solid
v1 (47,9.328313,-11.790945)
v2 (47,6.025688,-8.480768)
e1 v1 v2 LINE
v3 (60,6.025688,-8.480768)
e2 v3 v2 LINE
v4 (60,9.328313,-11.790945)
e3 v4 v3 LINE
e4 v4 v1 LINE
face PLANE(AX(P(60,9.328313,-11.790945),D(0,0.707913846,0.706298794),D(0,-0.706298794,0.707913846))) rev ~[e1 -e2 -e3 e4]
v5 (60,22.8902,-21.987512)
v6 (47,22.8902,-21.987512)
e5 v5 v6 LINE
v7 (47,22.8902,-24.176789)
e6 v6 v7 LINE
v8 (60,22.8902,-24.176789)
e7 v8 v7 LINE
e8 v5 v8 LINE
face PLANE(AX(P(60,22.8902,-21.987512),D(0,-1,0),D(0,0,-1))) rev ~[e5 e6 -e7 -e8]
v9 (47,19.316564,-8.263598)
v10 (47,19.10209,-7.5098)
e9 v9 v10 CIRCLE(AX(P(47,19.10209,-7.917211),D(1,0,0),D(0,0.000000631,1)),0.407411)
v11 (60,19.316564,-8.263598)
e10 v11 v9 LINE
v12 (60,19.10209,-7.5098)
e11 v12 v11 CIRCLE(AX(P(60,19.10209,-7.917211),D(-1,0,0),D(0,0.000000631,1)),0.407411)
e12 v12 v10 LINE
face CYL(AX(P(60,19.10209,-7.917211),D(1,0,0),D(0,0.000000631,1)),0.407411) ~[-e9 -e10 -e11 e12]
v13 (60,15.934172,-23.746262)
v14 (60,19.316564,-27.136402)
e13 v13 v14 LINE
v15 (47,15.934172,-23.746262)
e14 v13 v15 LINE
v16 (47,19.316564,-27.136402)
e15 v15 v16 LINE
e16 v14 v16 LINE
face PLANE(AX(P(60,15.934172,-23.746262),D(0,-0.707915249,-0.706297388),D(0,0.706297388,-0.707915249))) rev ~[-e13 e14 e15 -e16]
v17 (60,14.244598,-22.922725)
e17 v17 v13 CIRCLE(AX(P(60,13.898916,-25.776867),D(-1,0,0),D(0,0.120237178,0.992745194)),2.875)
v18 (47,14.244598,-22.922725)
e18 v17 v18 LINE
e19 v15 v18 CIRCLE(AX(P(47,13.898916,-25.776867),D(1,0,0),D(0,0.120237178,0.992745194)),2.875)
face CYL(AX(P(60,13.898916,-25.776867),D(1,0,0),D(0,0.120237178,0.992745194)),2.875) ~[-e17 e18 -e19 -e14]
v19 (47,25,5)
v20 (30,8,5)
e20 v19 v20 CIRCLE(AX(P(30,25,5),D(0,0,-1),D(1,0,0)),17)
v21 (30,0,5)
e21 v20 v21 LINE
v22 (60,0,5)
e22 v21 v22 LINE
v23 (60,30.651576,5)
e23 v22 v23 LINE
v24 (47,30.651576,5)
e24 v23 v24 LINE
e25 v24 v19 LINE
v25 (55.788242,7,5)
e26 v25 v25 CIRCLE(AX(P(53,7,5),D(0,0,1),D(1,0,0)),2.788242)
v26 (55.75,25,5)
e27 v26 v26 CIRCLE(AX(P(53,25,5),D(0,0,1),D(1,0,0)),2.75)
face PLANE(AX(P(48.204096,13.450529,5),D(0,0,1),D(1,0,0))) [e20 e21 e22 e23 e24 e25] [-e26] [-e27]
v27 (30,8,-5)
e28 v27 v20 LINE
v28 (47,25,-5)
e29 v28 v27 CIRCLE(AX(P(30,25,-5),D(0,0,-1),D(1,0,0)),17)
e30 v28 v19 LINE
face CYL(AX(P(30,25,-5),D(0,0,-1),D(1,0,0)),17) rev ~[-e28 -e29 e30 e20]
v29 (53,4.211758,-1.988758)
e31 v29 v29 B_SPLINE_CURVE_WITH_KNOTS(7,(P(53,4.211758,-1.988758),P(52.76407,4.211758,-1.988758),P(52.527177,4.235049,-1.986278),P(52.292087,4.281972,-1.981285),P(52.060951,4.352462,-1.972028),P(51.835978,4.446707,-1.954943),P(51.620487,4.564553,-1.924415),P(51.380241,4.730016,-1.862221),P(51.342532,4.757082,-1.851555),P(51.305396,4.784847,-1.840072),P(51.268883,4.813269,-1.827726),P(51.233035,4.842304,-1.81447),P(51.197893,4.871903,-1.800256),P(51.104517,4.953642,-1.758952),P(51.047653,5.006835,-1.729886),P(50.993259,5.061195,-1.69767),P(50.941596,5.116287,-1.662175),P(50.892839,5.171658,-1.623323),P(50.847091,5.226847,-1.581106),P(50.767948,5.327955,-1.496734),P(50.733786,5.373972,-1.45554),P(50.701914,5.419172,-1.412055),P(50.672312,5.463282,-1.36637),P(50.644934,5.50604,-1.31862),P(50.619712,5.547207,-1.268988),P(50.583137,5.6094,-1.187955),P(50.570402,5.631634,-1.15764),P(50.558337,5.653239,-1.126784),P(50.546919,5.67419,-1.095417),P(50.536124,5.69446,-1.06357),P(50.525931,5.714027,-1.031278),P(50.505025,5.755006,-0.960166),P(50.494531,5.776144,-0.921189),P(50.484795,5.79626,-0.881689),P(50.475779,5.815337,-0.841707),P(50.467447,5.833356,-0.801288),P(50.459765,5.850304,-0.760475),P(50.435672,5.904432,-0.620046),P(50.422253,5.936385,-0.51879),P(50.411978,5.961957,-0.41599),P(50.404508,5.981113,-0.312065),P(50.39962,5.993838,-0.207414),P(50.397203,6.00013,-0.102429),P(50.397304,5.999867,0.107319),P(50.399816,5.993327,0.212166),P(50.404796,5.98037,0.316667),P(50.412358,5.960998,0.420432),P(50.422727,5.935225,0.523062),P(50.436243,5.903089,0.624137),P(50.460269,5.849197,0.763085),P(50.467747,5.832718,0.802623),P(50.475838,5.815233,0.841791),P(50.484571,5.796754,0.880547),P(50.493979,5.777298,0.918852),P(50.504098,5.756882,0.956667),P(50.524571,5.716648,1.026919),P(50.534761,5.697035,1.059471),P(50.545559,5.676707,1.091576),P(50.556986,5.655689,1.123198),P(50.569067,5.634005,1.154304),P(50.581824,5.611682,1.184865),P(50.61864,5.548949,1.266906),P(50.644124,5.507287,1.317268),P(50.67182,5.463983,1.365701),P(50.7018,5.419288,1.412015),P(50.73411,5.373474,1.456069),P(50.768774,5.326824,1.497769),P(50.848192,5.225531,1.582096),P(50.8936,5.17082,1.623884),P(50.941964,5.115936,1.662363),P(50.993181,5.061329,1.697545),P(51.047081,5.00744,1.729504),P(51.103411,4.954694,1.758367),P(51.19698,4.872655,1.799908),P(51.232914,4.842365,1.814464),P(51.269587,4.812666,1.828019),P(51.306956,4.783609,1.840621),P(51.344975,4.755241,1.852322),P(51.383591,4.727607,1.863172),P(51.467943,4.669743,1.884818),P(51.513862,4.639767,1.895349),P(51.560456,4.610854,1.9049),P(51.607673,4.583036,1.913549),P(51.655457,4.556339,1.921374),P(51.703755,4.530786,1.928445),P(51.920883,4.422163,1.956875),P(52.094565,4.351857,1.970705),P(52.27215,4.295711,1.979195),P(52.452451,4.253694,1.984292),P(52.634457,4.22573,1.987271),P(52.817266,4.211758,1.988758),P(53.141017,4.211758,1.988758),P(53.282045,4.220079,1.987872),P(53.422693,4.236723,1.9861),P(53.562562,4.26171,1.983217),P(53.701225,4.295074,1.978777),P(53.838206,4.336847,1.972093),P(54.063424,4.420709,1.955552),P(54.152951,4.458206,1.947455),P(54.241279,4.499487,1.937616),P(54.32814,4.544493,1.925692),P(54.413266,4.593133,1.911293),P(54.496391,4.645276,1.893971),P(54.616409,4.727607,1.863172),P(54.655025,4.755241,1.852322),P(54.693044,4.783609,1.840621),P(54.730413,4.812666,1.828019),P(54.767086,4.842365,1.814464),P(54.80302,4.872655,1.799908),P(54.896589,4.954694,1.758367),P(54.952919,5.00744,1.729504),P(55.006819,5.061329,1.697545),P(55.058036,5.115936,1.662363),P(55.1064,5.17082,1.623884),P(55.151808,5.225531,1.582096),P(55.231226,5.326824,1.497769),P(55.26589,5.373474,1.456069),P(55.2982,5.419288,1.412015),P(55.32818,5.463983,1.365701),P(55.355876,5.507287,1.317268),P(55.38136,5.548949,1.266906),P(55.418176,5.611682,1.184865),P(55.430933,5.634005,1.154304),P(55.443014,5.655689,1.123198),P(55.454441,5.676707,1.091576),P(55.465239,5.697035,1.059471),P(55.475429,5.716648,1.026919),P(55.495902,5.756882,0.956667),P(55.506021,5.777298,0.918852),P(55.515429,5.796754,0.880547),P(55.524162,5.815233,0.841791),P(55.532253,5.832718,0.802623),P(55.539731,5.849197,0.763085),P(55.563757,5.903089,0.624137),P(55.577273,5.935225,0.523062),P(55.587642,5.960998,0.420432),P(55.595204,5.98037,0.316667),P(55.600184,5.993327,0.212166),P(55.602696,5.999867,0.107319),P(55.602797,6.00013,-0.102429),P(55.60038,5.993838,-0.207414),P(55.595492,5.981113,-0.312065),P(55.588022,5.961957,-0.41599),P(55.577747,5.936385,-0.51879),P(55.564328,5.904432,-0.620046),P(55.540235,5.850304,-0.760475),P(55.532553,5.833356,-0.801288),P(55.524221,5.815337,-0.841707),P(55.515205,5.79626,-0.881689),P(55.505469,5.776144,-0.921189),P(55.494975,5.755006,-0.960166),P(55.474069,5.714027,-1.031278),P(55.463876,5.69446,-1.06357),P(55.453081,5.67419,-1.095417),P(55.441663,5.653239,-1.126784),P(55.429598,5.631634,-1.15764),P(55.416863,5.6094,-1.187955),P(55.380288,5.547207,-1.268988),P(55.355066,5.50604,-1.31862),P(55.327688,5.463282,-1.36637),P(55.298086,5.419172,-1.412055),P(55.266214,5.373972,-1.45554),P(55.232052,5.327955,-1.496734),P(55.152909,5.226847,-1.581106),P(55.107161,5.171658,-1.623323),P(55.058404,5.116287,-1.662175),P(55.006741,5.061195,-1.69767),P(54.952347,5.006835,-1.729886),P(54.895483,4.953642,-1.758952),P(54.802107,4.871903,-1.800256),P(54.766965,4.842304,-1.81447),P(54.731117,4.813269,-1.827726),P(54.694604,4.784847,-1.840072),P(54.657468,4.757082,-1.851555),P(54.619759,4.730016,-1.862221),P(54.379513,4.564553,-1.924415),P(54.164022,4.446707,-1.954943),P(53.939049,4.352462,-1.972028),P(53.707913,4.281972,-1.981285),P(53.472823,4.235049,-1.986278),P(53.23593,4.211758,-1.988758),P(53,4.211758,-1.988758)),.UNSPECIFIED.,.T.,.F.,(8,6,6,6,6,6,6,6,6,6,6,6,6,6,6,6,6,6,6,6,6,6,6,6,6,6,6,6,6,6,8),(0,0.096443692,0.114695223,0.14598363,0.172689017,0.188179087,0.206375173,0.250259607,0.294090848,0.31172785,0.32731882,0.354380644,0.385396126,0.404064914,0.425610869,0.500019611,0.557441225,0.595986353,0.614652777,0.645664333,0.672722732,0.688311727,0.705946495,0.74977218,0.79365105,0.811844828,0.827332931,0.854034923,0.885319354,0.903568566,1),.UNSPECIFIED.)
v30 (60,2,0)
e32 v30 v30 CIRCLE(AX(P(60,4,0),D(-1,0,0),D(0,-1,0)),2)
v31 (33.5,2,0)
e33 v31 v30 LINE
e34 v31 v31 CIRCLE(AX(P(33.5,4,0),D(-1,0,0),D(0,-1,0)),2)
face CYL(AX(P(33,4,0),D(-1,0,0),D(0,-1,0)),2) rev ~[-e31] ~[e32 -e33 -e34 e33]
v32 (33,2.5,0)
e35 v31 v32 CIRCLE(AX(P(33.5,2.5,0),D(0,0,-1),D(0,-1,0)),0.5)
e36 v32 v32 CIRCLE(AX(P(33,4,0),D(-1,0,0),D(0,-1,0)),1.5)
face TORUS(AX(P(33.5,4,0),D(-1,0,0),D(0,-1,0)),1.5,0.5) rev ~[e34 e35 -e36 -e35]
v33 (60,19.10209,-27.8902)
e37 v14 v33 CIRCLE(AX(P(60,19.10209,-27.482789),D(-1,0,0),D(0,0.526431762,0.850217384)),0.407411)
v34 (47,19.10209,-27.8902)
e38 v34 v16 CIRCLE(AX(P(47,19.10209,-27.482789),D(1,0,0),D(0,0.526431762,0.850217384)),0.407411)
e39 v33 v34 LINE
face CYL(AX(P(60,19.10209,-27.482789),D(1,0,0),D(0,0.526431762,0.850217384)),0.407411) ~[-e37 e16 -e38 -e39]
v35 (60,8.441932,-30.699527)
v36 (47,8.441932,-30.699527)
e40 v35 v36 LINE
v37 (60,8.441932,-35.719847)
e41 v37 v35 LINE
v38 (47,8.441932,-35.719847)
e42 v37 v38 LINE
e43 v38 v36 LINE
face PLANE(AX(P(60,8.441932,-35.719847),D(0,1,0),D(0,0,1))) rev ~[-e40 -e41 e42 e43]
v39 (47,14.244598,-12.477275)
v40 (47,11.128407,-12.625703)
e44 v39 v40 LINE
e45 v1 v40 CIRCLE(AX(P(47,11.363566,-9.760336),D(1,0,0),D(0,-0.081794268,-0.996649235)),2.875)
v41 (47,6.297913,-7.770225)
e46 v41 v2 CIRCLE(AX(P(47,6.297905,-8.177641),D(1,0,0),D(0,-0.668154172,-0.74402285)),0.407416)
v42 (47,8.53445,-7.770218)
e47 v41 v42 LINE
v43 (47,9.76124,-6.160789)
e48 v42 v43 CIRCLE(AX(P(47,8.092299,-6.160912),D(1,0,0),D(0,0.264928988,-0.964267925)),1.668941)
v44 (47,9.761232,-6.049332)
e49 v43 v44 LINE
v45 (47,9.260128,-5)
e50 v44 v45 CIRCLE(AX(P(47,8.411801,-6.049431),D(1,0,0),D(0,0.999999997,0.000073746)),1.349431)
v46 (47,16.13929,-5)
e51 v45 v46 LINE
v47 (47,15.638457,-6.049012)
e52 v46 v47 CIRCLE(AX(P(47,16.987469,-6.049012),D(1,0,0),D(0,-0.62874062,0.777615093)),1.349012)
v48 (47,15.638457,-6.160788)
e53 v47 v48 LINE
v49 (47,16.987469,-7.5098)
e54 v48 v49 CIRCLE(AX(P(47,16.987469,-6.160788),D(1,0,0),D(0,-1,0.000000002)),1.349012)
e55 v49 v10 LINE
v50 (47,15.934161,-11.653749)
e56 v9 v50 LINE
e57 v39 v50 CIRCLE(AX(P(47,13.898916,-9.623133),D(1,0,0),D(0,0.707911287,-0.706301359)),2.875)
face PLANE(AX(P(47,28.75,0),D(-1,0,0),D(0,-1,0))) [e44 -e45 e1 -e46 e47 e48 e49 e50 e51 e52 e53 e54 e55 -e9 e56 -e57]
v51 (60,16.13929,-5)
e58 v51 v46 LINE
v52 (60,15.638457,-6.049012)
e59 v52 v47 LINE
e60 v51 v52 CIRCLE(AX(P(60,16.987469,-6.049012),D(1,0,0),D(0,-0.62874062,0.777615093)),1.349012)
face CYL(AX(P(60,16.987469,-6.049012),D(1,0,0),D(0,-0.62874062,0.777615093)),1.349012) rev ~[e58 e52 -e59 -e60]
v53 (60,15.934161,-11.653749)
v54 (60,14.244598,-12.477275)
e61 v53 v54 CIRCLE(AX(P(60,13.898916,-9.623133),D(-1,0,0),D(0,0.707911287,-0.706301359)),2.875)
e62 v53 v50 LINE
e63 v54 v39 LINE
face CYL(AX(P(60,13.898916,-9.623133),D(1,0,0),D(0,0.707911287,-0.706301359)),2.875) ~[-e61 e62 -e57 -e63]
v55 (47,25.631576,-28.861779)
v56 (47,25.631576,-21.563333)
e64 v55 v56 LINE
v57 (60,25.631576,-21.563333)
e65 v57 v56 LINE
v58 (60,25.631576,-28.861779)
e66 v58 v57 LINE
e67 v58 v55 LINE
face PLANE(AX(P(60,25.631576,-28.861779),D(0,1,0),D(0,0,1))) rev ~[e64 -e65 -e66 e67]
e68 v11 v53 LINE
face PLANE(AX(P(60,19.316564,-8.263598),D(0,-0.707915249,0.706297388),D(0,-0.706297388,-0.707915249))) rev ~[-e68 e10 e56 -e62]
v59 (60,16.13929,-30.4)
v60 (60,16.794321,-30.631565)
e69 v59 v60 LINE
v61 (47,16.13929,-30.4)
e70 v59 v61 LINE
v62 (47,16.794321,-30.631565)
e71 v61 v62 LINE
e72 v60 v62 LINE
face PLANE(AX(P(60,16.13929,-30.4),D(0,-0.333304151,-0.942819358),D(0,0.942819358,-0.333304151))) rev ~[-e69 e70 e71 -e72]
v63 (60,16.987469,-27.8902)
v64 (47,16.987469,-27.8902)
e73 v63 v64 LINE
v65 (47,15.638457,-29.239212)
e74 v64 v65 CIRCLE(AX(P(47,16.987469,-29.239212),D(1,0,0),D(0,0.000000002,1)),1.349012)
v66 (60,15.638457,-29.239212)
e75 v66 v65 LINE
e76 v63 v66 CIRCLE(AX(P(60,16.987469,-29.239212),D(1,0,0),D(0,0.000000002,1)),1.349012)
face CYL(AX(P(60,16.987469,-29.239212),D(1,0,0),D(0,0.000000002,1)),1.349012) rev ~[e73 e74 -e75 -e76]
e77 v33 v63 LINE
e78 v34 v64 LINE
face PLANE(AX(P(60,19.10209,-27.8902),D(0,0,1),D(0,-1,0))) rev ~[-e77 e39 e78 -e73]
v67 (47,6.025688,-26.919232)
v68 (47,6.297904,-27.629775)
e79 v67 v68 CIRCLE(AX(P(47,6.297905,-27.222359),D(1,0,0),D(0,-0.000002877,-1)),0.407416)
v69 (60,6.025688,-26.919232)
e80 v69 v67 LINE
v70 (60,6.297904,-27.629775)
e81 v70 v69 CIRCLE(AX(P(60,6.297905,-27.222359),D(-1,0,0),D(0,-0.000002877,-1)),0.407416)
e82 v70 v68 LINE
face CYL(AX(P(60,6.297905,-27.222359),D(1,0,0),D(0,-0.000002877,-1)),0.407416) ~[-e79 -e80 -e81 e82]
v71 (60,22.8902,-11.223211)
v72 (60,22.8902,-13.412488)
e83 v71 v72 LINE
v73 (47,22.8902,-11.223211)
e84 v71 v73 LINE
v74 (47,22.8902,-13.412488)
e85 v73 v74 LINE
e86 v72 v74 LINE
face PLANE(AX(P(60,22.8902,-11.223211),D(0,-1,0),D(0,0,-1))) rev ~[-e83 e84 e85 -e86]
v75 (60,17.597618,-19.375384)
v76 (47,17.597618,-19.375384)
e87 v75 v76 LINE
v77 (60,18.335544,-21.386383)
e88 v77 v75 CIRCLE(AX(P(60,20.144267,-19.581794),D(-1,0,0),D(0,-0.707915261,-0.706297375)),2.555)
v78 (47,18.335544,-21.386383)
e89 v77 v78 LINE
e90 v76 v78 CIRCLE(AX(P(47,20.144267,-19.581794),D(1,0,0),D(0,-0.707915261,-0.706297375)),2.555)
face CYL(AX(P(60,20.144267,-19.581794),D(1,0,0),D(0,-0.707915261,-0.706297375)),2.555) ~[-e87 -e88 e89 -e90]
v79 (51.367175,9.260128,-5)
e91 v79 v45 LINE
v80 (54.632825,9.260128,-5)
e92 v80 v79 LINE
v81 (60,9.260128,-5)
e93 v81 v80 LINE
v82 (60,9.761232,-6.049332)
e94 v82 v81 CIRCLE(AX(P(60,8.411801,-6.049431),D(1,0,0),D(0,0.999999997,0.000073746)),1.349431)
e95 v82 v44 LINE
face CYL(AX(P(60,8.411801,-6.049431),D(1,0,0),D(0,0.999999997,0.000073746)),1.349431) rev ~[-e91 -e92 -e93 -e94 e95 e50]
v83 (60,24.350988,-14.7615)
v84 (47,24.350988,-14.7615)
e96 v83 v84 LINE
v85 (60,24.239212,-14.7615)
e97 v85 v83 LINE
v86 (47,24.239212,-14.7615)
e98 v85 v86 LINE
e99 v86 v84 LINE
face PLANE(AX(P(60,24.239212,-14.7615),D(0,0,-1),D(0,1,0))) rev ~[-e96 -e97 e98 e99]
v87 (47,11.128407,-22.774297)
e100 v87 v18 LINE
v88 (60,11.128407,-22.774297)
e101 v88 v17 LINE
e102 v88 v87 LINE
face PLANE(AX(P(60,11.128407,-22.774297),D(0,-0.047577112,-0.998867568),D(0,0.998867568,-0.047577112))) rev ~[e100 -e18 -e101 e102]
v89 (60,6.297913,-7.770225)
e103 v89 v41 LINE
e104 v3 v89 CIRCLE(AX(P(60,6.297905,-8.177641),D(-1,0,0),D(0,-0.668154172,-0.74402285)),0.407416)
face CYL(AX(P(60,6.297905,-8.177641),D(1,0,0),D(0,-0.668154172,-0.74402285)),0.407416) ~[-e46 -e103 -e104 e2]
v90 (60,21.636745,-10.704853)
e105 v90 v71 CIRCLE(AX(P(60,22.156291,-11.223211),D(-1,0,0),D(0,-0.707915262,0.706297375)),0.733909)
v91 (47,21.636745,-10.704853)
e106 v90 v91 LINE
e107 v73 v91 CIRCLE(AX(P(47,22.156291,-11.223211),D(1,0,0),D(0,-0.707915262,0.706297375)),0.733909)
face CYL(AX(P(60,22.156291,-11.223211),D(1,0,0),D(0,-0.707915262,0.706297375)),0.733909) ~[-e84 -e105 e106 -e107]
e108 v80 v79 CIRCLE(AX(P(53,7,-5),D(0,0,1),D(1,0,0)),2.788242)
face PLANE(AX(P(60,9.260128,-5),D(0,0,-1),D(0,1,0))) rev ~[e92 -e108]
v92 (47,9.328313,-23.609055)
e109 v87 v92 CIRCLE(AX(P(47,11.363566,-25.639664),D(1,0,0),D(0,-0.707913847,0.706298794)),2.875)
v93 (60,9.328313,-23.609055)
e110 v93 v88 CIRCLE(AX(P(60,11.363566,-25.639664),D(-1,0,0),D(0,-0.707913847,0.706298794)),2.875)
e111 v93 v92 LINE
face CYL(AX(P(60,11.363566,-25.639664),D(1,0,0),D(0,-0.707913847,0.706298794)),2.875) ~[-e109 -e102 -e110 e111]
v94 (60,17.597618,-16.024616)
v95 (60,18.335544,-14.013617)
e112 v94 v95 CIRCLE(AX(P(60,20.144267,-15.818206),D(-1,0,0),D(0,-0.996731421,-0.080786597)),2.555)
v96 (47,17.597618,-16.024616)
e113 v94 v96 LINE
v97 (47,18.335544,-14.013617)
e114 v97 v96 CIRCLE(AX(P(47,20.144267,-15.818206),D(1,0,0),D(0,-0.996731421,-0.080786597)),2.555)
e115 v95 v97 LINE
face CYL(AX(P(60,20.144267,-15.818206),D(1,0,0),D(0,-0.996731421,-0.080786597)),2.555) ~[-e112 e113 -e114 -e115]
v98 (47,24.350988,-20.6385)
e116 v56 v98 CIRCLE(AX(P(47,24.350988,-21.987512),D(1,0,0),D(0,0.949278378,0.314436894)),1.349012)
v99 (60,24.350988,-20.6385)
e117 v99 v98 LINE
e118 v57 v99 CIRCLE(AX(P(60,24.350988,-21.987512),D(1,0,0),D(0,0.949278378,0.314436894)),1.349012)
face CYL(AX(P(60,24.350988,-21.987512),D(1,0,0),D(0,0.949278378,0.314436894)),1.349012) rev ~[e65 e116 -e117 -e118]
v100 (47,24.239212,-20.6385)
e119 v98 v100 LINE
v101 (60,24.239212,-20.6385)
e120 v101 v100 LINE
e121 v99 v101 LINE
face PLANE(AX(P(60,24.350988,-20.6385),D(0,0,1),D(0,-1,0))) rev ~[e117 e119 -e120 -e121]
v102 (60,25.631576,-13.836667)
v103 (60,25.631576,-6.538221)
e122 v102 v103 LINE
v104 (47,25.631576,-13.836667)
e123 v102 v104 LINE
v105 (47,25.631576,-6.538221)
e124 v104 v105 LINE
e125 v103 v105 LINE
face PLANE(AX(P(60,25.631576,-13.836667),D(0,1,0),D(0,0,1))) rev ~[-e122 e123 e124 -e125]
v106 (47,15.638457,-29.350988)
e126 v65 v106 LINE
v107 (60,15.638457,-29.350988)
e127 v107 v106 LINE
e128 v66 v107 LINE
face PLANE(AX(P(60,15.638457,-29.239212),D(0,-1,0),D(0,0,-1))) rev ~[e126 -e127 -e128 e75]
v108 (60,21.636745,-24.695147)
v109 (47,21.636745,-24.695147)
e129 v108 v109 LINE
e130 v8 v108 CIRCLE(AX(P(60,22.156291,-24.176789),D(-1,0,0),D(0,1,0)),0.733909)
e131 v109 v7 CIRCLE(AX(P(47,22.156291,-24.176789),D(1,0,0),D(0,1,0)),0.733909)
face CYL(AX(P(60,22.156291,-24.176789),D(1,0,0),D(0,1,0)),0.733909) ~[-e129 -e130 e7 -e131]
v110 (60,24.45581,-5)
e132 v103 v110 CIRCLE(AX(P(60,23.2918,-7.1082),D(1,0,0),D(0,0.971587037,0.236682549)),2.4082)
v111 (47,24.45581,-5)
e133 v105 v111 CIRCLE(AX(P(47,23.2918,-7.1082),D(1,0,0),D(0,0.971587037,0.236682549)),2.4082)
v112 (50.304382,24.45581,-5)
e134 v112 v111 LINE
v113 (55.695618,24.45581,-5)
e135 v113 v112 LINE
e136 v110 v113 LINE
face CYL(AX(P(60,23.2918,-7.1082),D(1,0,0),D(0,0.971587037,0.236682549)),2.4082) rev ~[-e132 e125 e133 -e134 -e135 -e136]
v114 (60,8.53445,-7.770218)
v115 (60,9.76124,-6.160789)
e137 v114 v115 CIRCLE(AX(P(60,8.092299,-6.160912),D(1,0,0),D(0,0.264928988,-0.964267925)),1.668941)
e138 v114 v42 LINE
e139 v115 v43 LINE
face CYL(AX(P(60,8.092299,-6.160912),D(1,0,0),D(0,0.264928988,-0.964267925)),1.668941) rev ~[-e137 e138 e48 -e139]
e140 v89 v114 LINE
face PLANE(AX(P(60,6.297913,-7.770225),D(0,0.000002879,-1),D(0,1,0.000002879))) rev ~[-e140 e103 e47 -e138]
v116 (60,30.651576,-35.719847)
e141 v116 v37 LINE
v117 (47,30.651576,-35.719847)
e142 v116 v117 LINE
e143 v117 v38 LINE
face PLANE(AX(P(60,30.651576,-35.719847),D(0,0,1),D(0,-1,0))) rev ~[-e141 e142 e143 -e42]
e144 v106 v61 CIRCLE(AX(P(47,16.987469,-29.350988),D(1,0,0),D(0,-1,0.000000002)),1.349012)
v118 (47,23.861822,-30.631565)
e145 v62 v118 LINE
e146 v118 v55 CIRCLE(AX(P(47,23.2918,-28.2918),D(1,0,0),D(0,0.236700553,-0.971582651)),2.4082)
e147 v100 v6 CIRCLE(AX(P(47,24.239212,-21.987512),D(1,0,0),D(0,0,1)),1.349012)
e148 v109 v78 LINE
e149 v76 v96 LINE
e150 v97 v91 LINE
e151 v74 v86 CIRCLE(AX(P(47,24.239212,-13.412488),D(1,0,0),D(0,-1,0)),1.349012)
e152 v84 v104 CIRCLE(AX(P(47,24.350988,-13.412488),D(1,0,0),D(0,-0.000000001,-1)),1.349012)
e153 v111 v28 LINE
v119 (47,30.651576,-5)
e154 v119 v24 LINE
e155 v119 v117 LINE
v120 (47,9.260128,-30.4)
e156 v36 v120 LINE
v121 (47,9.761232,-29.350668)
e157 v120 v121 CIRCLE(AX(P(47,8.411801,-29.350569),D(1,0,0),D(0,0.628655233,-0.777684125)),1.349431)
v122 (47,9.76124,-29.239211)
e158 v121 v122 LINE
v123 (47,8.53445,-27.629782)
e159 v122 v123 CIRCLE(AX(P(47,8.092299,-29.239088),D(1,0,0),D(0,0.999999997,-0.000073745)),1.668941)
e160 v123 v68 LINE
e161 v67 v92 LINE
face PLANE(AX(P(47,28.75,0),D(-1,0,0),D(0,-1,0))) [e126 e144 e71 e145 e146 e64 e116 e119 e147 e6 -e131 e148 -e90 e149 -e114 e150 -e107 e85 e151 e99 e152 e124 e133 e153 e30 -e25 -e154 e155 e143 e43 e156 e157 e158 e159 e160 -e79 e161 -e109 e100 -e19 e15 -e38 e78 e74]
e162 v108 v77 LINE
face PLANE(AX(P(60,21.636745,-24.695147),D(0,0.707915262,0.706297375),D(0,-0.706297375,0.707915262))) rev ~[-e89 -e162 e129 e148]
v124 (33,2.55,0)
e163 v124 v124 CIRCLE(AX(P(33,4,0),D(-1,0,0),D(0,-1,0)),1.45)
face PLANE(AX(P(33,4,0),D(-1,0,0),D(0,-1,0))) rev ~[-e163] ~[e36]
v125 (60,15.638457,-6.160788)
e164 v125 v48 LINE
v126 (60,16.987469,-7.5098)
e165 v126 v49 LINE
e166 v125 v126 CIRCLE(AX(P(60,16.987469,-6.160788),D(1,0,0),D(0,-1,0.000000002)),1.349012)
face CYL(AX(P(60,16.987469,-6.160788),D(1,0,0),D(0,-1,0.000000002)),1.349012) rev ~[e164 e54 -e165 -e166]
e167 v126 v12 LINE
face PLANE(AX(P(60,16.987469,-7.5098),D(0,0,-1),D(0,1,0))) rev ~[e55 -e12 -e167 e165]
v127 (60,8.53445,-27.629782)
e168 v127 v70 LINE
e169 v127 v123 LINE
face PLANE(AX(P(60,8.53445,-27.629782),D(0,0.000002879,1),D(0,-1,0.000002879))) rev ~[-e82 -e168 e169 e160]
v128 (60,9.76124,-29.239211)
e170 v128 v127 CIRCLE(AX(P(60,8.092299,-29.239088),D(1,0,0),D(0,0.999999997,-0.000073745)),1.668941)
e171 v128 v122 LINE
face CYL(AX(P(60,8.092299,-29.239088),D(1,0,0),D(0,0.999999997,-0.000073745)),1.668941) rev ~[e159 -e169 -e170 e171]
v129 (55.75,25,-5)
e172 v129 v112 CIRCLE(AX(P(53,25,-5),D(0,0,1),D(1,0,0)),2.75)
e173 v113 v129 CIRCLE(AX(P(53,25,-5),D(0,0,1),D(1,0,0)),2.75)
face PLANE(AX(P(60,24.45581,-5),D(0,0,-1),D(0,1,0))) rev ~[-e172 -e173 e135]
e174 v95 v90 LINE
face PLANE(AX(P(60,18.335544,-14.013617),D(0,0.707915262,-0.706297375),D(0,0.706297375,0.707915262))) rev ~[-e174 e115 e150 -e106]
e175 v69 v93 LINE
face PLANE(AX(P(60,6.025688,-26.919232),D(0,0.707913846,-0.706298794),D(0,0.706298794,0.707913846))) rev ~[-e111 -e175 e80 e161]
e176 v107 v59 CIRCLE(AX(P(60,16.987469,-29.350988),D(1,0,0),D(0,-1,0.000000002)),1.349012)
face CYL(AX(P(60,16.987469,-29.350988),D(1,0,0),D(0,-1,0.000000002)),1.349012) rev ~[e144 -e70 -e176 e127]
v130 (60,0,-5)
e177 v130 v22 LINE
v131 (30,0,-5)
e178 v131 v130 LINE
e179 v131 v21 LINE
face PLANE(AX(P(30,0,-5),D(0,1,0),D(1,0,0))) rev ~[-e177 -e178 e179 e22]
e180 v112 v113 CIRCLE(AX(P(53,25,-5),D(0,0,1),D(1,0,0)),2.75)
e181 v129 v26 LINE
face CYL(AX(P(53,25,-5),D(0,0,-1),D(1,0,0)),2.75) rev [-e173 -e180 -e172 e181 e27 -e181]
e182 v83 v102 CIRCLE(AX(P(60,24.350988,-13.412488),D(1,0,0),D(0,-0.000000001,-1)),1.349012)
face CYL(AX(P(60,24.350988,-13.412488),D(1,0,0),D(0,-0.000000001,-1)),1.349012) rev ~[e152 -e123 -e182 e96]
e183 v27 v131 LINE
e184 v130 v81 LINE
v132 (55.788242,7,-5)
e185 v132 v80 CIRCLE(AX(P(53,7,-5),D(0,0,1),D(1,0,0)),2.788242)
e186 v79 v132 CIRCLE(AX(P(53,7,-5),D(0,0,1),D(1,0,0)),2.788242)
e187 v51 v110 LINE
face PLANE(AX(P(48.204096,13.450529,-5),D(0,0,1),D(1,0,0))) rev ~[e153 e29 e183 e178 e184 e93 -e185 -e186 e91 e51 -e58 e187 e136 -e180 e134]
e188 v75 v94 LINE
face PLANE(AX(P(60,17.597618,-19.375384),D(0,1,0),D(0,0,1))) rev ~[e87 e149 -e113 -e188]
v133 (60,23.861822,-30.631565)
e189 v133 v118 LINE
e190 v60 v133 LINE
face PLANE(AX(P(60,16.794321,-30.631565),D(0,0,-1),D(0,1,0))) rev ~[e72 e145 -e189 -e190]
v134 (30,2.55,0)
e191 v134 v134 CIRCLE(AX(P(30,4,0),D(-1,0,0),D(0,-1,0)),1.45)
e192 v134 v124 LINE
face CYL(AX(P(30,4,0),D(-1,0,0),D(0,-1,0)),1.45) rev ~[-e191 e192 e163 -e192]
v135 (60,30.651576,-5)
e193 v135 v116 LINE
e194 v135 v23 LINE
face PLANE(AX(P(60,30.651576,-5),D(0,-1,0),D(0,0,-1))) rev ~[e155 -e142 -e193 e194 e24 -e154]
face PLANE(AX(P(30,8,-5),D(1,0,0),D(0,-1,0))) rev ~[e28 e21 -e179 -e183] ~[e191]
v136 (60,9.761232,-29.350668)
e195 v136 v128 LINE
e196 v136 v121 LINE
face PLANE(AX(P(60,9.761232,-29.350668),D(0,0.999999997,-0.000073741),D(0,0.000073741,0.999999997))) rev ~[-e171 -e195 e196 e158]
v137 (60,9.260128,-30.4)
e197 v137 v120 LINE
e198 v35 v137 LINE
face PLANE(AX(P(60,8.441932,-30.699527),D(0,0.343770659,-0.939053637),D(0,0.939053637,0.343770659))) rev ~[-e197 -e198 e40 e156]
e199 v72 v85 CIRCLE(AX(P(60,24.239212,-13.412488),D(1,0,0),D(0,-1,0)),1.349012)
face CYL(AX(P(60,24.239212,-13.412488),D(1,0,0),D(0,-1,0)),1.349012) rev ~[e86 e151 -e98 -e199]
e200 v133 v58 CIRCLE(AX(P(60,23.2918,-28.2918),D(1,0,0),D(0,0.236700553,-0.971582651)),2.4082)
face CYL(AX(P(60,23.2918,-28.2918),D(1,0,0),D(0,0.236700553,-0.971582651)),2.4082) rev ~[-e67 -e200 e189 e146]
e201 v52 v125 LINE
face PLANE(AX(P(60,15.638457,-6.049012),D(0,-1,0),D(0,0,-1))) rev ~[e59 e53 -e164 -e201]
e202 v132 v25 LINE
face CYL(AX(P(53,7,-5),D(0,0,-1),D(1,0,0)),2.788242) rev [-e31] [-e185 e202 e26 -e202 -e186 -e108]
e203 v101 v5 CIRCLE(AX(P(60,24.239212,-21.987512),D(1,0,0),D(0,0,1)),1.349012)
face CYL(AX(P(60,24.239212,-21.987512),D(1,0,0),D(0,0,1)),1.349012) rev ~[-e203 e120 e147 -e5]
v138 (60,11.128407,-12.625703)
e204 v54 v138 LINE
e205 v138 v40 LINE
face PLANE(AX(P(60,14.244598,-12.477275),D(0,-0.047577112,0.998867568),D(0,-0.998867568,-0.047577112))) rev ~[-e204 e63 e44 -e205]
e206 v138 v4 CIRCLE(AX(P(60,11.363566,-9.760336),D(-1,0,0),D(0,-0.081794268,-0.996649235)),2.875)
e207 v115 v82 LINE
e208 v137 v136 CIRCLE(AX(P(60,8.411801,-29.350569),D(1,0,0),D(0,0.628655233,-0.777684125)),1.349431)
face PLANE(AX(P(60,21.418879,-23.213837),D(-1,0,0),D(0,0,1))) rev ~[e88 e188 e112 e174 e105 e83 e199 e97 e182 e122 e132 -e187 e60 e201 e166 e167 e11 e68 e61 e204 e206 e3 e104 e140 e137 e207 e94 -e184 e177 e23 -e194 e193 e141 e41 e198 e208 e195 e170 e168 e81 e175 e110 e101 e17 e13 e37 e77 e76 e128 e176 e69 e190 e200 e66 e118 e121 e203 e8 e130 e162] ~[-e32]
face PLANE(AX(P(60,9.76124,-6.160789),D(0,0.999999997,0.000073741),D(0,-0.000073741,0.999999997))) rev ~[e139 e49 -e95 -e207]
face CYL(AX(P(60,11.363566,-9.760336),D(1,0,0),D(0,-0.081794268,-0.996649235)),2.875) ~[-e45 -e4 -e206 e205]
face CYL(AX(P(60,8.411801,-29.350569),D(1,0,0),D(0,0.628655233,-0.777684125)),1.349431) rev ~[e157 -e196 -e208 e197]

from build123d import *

# Parameters (mm, degrees)
BOSS_EXTRUDE1_DEPTH      = 5
BOSS_EXTRUDE1_DEPTH_BACK = 5
SKETCH7_R                = 2.788241988
SKETCH7_R_2              = 2.75
BOSS_EXTRUDE2_REACH      = 46.511
CUT_EXTRUDE3_REACH       = 76.833
SKETCH14_W               = 13
SKETCH14_H               = 1.848424097
SKETCH15_R               = 1.45
CUT_EXTRUDE4_DEPTH       = 3
CUT_EXTRUDE5_REACH       = 56.263
SKETCH16_R               = 2
FILLET1_R                = 0.5


with BuildPart() as part:
    # Sketch7 → Boss-Extrude1 (new, two sides: drawn at the far end of the back side and taken through both)
    with BuildSketch(Plane.XY.offset(-BOSS_EXTRUDE1_DEPTH_BACK)):
        with BuildLine():
            Line((30, 8), (30, 0))
            Line((30, 0), (60, 0))
            Line((60, 0), (60, 32.5))
            Line((60, 32.5), (47, 32.5))
            Line((47, 32.5), (47, 25))
            ThreePointArc((47, 25), (42.02081528, 12.97918472), (30, 8))
        make_face()
        with Locations((53, 7)):
            Circle(SKETCH7_R, mode=Mode.SUBTRACT)
        with Locations((53, 25)):
            Circle(SKETCH7_R_2, mode=Mode.SUBTRACT)
    extrude(amount=BOSS_EXTRUDE1_DEPTH + BOSS_EXTRUDE1_DEPTH_BACK)

    # Boss-Extrude2: up to this face of the body (flat: up to its plane)
    boss_extrude2_end = Plane(part.part.faces().sort_by_distance((47, 28.75, 0))[0])
    # Sketch8 → Boss-Extrude2 (add, up to the picked face)
    with BuildSketch(Plane(origin=(60, 0, 0), x_dir=(0, 0, -1), z_dir=(1, 0, 0)), mode=Mode.PRIVATE) as boss_extrude2_sk1:
        with BuildLine():
            Line((7.770224858, 6.297913321), (7.77021842, 8.534450023))
            ThreePointArc((7.77021842, 8.534450023), (7.172653823, 9.41960576), (6.160789156, 9.761240102))
            Line((6.160789156, 9.761240102), (6.049331791, 9.761231883))
            ThreePointArc((6.049331791, 9.761231883), (5.467920254, 9.629507338), (5, 9.260127632))
            Line((5, 9.260127632), (5, 16.139290416))
            ThreePointArc((5, 16.139290416), (5.467793594, 15.770087219), (6.049012407, 15.638456908))
            Line((6.049012407, 15.638456908), (6.160787586, 15.638456908))
            ThreePointArc((6.160787586, 15.638456908), (7.114683416, 16.033573497), (7.509800005, 16.987469327))
            Line((7.509800005, 16.987469327), (7.509800005, 19.102089972))
            ThreePointArc((7.509800005, 19.102089972), (7.80571774, 19.4939479), (8.26359849, 19.316563682))
            Line((8.26359849, 19.316563682), (11.653749185, 15.934160795))
            ThreePointArc((11.653749185, 15.934160795), (12.207484328, 15.158579301), (12.477275173, 14.244597811))
            Line((12.477275173, 14.244597811), (12.625702616, 11.128406988))
            ThreePointArc((12.625702616, 11.128406988), (12.368540167, 10.154062981), (11.790945096, 9.328313198))
            Line((11.790945096, 9.328313198), (8.480768071, 6.02568809))
            ThreePointArc((8.480768071, 6.02568809), (8.03188202, 5.917454844), (7.770224858, 6.297913321))
        make_face()
    boss_extrude2_tool1 = split(extrude(boss_extrude2_sk1.sketch, amount=-BOSS_EXTRUDE2_REACH, mode=Mode.PRIVATE), bisect_by=boss_extrude2_end, keep=Keep.BOTH, mode=Mode.PRIVATE)
    # Sketch8 → Boss-Extrude2 (add, up to the picked face)
    with BuildSketch(Plane(origin=(60, 0, 0), x_dir=(0, 0, -1), z_dir=(1, 0, 0)), mode=Mode.PRIVATE) as boss_extrude2_sk2:
        with BuildLine():
            Line((30.631565341, 16.79432062), (30.631565341, 23.861822271))
            ThreePointArc((30.631565341, 23.861822271), (29.994638774, 24.994670327), (28.861778916, 25.631575903))
            Line((28.861778916, 25.631575903), (21.563333135, 25.631575903))
            ThreePointArc((21.563333135, 25.631575903), (20.893881396, 25.140801297), (20.6385, 24.350987593))
            Line((20.6385, 24.350987593), (20.6385, 24.239212407))
            ThreePointArc((20.6385, 24.239212407), (21.033616586, 23.285316586), (21.987512407, 22.8902))
            Line((21.987512407, 22.8902), (24.176788598, 22.8902))
            ThreePointArc((24.176788598, 22.8902), (24.854992901, 22.436757749), (24.695146796, 21.63674514))
            Line((24.695146796, 21.63674514), (21.386383353, 18.335543623))
            ThreePointArc((21.386383353, 18.335543623), (20.461951665, 17.745653619), (19.375383804, 17.597618335))
            Line((19.375383804, 17.597618335), (16.024616196, 17.597618335))
            ThreePointArc((16.024616196, 17.597618335), (14.938048335, 17.745653619), (14.013616647, 18.335543623))
            Line((14.013616647, 18.335543623), (10.704853204, 21.63674514))
            ThreePointArc((10.704853204, 21.63674514), (10.545007099, 22.436757749), (11.223211402, 22.8902))
            Line((11.223211402, 22.8902), (13.412487593, 22.8902))
            ThreePointArc((13.412487593, 22.8902), (14.366383414, 23.285316586), (14.7615, 24.239212407))
            Line((14.7615, 24.239212407), (14.7615, 24.350987593))
            ThreePointArc((14.7615, 24.350987593), (14.506118604, 25.140801297), (13.836666865, 25.631575903))
            Line((13.836666865, 25.631575903), (6.538221084, 25.631575903))
            ThreePointArc((6.538221084, 25.631575903), (5.64574769, 25.205085259), (5, 24.455810309))
            Line((5, 24.455810309), (5, 30.651575903))
            Line((5, 30.651575903), (35.719846982, 30.651575903))
            Line((35.719846982, 30.651575903), (35.719846982, 25.680977676))
            Line((35.719846982, 25.680977676), (35.719846982, 8.441932485))
            Line((35.719846982, 8.441932485), (30.699526538, 8.441932485))
            Line((30.699526538, 8.441932485), (30.4, 9.260127632))
            ThreePointArc((30.4, 9.260127632), (29.932079746, 9.629507338), (29.350668209, 9.761231883))
            Line((29.350668209, 9.761231883), (29.239210844, 9.761240102))
            ThreePointArc((29.239210844, 9.761240102), (28.227346177, 9.41960576), (27.62978158, 8.534450023))
            Line((27.62978158, 8.534450023), (27.629775142, 6.29790377))
            ThreePointArc((27.629775142, 6.29790377), (27.368113521, 5.917453135), (26.919231929, 6.02568809))
            Line((26.919231929, 6.02568809), (23.609054904, 9.328313198))
            ThreePointArc((23.609054904, 9.328313198), (23.031459833, 10.154062981), (22.774297384, 11.128406988))
            Line((22.774297384, 11.128406988), (22.922724827, 14.244597811))
            ThreePointArc((22.922724827, 14.244597811), (23.192519205, 15.158586549), (23.746262232, 15.934172186))
            Line((23.746262232, 15.934172186), (27.13640151, 19.316563682))
            ThreePointArc((27.13640151, 19.316563682), (27.594282383, 19.493947864), (27.890199995, 19.102089715))
            Line((27.890199995, 19.102089715), (27.890199995, 16.987469327))
            ThreePointArc((27.890199995, 16.987469327), (28.285316584, 16.033573497), (29.239212414, 15.638456908))
            Line((29.239212414, 15.638456908), (29.350987593, 15.638456908))
            ThreePointArc((29.350987593, 15.638456908), (29.932206406, 15.770087219), (30.4, 16.139290416))
            Line((30.4, 16.139290416), (30.631565341, 16.79432062))
        make_face()
    boss_extrude2_tool2 = split(extrude(boss_extrude2_sk2.sketch, amount=-BOSS_EXTRUDE2_REACH, mode=Mode.PRIVATE), bisect_by=boss_extrude2_end, keep=Keep.BOTH, mode=Mode.PRIVATE)
    add(boss_extrude2_tool1.solids().sort_by(Axis((60, 12.678642, -8.819589), (-1, 0, 0)))[0])
    add(boss_extrude2_tool2.solids().sort_by(Axis((60, 21.642021, -23.841508), (-1, 0, 0)))[0])

    # Sketch14 → Cut-Extrude3 (cut, up to next)
    with BuildSketch(Plane(origin=(0, 0, -5), x_dir=(-1, 0, 0), z_dir=(0, 0, -1)), mode=Mode.PRIVATE) as cut_extrude3_sk1:
        with Locations((-53.5, 31.575787952)):
            Rectangle(SKETCH14_W, SKETCH14_H)
    cut_extrude3_tool1 = extrude(cut_extrude3_sk1.sketch, amount=-CUT_EXTRUDE3_REACH, mode=Mode.PRIVATE) & part.part
    add(cut_extrude3_tool1.solids().sort_by_distance((53.5, 31.575788, -5))[0], mode=Mode.SUBTRACT)

    # Sketch15 → Cut-Extrude4 (cut)
    with BuildSketch(Plane.ZY.offset(-30)):
        with Locations(Location((0, 4, 0), (0, 0, 270))):
            Circle(SKETCH15_R)
    extrude(amount=-CUT_EXTRUDE4_DEPTH, mode=Mode.SUBTRACT)

    # Sketch16 → Cut-Extrude5 (cut, up to next)
    with BuildSketch(Plane.ZY.offset(-33), mode=Mode.PRIVATE) as cut_extrude5_sk1:
        with Locations(Location((0, 4, 0), (0, 0, 270))):
            Circle(SKETCH16_R)
    cut_extrude5_tool1 = extrude(cut_extrude5_sk1.sketch, amount=-CUT_EXTRUDE5_REACH, mode=Mode.PRIVATE) & part.part
    add(cut_extrude5_tool1.solids().sort_by_distance((33, 4, 0))[0], mode=Mode.SUBTRACT)

    # Fillet1
    fillet1_edges = [part.edges().sort_by_distance(p)[0] for p in [
        (33, 6, 0),
    ]]
    fillet(fillet1_edges, radius=FILLET1_R)


solid = part.part
